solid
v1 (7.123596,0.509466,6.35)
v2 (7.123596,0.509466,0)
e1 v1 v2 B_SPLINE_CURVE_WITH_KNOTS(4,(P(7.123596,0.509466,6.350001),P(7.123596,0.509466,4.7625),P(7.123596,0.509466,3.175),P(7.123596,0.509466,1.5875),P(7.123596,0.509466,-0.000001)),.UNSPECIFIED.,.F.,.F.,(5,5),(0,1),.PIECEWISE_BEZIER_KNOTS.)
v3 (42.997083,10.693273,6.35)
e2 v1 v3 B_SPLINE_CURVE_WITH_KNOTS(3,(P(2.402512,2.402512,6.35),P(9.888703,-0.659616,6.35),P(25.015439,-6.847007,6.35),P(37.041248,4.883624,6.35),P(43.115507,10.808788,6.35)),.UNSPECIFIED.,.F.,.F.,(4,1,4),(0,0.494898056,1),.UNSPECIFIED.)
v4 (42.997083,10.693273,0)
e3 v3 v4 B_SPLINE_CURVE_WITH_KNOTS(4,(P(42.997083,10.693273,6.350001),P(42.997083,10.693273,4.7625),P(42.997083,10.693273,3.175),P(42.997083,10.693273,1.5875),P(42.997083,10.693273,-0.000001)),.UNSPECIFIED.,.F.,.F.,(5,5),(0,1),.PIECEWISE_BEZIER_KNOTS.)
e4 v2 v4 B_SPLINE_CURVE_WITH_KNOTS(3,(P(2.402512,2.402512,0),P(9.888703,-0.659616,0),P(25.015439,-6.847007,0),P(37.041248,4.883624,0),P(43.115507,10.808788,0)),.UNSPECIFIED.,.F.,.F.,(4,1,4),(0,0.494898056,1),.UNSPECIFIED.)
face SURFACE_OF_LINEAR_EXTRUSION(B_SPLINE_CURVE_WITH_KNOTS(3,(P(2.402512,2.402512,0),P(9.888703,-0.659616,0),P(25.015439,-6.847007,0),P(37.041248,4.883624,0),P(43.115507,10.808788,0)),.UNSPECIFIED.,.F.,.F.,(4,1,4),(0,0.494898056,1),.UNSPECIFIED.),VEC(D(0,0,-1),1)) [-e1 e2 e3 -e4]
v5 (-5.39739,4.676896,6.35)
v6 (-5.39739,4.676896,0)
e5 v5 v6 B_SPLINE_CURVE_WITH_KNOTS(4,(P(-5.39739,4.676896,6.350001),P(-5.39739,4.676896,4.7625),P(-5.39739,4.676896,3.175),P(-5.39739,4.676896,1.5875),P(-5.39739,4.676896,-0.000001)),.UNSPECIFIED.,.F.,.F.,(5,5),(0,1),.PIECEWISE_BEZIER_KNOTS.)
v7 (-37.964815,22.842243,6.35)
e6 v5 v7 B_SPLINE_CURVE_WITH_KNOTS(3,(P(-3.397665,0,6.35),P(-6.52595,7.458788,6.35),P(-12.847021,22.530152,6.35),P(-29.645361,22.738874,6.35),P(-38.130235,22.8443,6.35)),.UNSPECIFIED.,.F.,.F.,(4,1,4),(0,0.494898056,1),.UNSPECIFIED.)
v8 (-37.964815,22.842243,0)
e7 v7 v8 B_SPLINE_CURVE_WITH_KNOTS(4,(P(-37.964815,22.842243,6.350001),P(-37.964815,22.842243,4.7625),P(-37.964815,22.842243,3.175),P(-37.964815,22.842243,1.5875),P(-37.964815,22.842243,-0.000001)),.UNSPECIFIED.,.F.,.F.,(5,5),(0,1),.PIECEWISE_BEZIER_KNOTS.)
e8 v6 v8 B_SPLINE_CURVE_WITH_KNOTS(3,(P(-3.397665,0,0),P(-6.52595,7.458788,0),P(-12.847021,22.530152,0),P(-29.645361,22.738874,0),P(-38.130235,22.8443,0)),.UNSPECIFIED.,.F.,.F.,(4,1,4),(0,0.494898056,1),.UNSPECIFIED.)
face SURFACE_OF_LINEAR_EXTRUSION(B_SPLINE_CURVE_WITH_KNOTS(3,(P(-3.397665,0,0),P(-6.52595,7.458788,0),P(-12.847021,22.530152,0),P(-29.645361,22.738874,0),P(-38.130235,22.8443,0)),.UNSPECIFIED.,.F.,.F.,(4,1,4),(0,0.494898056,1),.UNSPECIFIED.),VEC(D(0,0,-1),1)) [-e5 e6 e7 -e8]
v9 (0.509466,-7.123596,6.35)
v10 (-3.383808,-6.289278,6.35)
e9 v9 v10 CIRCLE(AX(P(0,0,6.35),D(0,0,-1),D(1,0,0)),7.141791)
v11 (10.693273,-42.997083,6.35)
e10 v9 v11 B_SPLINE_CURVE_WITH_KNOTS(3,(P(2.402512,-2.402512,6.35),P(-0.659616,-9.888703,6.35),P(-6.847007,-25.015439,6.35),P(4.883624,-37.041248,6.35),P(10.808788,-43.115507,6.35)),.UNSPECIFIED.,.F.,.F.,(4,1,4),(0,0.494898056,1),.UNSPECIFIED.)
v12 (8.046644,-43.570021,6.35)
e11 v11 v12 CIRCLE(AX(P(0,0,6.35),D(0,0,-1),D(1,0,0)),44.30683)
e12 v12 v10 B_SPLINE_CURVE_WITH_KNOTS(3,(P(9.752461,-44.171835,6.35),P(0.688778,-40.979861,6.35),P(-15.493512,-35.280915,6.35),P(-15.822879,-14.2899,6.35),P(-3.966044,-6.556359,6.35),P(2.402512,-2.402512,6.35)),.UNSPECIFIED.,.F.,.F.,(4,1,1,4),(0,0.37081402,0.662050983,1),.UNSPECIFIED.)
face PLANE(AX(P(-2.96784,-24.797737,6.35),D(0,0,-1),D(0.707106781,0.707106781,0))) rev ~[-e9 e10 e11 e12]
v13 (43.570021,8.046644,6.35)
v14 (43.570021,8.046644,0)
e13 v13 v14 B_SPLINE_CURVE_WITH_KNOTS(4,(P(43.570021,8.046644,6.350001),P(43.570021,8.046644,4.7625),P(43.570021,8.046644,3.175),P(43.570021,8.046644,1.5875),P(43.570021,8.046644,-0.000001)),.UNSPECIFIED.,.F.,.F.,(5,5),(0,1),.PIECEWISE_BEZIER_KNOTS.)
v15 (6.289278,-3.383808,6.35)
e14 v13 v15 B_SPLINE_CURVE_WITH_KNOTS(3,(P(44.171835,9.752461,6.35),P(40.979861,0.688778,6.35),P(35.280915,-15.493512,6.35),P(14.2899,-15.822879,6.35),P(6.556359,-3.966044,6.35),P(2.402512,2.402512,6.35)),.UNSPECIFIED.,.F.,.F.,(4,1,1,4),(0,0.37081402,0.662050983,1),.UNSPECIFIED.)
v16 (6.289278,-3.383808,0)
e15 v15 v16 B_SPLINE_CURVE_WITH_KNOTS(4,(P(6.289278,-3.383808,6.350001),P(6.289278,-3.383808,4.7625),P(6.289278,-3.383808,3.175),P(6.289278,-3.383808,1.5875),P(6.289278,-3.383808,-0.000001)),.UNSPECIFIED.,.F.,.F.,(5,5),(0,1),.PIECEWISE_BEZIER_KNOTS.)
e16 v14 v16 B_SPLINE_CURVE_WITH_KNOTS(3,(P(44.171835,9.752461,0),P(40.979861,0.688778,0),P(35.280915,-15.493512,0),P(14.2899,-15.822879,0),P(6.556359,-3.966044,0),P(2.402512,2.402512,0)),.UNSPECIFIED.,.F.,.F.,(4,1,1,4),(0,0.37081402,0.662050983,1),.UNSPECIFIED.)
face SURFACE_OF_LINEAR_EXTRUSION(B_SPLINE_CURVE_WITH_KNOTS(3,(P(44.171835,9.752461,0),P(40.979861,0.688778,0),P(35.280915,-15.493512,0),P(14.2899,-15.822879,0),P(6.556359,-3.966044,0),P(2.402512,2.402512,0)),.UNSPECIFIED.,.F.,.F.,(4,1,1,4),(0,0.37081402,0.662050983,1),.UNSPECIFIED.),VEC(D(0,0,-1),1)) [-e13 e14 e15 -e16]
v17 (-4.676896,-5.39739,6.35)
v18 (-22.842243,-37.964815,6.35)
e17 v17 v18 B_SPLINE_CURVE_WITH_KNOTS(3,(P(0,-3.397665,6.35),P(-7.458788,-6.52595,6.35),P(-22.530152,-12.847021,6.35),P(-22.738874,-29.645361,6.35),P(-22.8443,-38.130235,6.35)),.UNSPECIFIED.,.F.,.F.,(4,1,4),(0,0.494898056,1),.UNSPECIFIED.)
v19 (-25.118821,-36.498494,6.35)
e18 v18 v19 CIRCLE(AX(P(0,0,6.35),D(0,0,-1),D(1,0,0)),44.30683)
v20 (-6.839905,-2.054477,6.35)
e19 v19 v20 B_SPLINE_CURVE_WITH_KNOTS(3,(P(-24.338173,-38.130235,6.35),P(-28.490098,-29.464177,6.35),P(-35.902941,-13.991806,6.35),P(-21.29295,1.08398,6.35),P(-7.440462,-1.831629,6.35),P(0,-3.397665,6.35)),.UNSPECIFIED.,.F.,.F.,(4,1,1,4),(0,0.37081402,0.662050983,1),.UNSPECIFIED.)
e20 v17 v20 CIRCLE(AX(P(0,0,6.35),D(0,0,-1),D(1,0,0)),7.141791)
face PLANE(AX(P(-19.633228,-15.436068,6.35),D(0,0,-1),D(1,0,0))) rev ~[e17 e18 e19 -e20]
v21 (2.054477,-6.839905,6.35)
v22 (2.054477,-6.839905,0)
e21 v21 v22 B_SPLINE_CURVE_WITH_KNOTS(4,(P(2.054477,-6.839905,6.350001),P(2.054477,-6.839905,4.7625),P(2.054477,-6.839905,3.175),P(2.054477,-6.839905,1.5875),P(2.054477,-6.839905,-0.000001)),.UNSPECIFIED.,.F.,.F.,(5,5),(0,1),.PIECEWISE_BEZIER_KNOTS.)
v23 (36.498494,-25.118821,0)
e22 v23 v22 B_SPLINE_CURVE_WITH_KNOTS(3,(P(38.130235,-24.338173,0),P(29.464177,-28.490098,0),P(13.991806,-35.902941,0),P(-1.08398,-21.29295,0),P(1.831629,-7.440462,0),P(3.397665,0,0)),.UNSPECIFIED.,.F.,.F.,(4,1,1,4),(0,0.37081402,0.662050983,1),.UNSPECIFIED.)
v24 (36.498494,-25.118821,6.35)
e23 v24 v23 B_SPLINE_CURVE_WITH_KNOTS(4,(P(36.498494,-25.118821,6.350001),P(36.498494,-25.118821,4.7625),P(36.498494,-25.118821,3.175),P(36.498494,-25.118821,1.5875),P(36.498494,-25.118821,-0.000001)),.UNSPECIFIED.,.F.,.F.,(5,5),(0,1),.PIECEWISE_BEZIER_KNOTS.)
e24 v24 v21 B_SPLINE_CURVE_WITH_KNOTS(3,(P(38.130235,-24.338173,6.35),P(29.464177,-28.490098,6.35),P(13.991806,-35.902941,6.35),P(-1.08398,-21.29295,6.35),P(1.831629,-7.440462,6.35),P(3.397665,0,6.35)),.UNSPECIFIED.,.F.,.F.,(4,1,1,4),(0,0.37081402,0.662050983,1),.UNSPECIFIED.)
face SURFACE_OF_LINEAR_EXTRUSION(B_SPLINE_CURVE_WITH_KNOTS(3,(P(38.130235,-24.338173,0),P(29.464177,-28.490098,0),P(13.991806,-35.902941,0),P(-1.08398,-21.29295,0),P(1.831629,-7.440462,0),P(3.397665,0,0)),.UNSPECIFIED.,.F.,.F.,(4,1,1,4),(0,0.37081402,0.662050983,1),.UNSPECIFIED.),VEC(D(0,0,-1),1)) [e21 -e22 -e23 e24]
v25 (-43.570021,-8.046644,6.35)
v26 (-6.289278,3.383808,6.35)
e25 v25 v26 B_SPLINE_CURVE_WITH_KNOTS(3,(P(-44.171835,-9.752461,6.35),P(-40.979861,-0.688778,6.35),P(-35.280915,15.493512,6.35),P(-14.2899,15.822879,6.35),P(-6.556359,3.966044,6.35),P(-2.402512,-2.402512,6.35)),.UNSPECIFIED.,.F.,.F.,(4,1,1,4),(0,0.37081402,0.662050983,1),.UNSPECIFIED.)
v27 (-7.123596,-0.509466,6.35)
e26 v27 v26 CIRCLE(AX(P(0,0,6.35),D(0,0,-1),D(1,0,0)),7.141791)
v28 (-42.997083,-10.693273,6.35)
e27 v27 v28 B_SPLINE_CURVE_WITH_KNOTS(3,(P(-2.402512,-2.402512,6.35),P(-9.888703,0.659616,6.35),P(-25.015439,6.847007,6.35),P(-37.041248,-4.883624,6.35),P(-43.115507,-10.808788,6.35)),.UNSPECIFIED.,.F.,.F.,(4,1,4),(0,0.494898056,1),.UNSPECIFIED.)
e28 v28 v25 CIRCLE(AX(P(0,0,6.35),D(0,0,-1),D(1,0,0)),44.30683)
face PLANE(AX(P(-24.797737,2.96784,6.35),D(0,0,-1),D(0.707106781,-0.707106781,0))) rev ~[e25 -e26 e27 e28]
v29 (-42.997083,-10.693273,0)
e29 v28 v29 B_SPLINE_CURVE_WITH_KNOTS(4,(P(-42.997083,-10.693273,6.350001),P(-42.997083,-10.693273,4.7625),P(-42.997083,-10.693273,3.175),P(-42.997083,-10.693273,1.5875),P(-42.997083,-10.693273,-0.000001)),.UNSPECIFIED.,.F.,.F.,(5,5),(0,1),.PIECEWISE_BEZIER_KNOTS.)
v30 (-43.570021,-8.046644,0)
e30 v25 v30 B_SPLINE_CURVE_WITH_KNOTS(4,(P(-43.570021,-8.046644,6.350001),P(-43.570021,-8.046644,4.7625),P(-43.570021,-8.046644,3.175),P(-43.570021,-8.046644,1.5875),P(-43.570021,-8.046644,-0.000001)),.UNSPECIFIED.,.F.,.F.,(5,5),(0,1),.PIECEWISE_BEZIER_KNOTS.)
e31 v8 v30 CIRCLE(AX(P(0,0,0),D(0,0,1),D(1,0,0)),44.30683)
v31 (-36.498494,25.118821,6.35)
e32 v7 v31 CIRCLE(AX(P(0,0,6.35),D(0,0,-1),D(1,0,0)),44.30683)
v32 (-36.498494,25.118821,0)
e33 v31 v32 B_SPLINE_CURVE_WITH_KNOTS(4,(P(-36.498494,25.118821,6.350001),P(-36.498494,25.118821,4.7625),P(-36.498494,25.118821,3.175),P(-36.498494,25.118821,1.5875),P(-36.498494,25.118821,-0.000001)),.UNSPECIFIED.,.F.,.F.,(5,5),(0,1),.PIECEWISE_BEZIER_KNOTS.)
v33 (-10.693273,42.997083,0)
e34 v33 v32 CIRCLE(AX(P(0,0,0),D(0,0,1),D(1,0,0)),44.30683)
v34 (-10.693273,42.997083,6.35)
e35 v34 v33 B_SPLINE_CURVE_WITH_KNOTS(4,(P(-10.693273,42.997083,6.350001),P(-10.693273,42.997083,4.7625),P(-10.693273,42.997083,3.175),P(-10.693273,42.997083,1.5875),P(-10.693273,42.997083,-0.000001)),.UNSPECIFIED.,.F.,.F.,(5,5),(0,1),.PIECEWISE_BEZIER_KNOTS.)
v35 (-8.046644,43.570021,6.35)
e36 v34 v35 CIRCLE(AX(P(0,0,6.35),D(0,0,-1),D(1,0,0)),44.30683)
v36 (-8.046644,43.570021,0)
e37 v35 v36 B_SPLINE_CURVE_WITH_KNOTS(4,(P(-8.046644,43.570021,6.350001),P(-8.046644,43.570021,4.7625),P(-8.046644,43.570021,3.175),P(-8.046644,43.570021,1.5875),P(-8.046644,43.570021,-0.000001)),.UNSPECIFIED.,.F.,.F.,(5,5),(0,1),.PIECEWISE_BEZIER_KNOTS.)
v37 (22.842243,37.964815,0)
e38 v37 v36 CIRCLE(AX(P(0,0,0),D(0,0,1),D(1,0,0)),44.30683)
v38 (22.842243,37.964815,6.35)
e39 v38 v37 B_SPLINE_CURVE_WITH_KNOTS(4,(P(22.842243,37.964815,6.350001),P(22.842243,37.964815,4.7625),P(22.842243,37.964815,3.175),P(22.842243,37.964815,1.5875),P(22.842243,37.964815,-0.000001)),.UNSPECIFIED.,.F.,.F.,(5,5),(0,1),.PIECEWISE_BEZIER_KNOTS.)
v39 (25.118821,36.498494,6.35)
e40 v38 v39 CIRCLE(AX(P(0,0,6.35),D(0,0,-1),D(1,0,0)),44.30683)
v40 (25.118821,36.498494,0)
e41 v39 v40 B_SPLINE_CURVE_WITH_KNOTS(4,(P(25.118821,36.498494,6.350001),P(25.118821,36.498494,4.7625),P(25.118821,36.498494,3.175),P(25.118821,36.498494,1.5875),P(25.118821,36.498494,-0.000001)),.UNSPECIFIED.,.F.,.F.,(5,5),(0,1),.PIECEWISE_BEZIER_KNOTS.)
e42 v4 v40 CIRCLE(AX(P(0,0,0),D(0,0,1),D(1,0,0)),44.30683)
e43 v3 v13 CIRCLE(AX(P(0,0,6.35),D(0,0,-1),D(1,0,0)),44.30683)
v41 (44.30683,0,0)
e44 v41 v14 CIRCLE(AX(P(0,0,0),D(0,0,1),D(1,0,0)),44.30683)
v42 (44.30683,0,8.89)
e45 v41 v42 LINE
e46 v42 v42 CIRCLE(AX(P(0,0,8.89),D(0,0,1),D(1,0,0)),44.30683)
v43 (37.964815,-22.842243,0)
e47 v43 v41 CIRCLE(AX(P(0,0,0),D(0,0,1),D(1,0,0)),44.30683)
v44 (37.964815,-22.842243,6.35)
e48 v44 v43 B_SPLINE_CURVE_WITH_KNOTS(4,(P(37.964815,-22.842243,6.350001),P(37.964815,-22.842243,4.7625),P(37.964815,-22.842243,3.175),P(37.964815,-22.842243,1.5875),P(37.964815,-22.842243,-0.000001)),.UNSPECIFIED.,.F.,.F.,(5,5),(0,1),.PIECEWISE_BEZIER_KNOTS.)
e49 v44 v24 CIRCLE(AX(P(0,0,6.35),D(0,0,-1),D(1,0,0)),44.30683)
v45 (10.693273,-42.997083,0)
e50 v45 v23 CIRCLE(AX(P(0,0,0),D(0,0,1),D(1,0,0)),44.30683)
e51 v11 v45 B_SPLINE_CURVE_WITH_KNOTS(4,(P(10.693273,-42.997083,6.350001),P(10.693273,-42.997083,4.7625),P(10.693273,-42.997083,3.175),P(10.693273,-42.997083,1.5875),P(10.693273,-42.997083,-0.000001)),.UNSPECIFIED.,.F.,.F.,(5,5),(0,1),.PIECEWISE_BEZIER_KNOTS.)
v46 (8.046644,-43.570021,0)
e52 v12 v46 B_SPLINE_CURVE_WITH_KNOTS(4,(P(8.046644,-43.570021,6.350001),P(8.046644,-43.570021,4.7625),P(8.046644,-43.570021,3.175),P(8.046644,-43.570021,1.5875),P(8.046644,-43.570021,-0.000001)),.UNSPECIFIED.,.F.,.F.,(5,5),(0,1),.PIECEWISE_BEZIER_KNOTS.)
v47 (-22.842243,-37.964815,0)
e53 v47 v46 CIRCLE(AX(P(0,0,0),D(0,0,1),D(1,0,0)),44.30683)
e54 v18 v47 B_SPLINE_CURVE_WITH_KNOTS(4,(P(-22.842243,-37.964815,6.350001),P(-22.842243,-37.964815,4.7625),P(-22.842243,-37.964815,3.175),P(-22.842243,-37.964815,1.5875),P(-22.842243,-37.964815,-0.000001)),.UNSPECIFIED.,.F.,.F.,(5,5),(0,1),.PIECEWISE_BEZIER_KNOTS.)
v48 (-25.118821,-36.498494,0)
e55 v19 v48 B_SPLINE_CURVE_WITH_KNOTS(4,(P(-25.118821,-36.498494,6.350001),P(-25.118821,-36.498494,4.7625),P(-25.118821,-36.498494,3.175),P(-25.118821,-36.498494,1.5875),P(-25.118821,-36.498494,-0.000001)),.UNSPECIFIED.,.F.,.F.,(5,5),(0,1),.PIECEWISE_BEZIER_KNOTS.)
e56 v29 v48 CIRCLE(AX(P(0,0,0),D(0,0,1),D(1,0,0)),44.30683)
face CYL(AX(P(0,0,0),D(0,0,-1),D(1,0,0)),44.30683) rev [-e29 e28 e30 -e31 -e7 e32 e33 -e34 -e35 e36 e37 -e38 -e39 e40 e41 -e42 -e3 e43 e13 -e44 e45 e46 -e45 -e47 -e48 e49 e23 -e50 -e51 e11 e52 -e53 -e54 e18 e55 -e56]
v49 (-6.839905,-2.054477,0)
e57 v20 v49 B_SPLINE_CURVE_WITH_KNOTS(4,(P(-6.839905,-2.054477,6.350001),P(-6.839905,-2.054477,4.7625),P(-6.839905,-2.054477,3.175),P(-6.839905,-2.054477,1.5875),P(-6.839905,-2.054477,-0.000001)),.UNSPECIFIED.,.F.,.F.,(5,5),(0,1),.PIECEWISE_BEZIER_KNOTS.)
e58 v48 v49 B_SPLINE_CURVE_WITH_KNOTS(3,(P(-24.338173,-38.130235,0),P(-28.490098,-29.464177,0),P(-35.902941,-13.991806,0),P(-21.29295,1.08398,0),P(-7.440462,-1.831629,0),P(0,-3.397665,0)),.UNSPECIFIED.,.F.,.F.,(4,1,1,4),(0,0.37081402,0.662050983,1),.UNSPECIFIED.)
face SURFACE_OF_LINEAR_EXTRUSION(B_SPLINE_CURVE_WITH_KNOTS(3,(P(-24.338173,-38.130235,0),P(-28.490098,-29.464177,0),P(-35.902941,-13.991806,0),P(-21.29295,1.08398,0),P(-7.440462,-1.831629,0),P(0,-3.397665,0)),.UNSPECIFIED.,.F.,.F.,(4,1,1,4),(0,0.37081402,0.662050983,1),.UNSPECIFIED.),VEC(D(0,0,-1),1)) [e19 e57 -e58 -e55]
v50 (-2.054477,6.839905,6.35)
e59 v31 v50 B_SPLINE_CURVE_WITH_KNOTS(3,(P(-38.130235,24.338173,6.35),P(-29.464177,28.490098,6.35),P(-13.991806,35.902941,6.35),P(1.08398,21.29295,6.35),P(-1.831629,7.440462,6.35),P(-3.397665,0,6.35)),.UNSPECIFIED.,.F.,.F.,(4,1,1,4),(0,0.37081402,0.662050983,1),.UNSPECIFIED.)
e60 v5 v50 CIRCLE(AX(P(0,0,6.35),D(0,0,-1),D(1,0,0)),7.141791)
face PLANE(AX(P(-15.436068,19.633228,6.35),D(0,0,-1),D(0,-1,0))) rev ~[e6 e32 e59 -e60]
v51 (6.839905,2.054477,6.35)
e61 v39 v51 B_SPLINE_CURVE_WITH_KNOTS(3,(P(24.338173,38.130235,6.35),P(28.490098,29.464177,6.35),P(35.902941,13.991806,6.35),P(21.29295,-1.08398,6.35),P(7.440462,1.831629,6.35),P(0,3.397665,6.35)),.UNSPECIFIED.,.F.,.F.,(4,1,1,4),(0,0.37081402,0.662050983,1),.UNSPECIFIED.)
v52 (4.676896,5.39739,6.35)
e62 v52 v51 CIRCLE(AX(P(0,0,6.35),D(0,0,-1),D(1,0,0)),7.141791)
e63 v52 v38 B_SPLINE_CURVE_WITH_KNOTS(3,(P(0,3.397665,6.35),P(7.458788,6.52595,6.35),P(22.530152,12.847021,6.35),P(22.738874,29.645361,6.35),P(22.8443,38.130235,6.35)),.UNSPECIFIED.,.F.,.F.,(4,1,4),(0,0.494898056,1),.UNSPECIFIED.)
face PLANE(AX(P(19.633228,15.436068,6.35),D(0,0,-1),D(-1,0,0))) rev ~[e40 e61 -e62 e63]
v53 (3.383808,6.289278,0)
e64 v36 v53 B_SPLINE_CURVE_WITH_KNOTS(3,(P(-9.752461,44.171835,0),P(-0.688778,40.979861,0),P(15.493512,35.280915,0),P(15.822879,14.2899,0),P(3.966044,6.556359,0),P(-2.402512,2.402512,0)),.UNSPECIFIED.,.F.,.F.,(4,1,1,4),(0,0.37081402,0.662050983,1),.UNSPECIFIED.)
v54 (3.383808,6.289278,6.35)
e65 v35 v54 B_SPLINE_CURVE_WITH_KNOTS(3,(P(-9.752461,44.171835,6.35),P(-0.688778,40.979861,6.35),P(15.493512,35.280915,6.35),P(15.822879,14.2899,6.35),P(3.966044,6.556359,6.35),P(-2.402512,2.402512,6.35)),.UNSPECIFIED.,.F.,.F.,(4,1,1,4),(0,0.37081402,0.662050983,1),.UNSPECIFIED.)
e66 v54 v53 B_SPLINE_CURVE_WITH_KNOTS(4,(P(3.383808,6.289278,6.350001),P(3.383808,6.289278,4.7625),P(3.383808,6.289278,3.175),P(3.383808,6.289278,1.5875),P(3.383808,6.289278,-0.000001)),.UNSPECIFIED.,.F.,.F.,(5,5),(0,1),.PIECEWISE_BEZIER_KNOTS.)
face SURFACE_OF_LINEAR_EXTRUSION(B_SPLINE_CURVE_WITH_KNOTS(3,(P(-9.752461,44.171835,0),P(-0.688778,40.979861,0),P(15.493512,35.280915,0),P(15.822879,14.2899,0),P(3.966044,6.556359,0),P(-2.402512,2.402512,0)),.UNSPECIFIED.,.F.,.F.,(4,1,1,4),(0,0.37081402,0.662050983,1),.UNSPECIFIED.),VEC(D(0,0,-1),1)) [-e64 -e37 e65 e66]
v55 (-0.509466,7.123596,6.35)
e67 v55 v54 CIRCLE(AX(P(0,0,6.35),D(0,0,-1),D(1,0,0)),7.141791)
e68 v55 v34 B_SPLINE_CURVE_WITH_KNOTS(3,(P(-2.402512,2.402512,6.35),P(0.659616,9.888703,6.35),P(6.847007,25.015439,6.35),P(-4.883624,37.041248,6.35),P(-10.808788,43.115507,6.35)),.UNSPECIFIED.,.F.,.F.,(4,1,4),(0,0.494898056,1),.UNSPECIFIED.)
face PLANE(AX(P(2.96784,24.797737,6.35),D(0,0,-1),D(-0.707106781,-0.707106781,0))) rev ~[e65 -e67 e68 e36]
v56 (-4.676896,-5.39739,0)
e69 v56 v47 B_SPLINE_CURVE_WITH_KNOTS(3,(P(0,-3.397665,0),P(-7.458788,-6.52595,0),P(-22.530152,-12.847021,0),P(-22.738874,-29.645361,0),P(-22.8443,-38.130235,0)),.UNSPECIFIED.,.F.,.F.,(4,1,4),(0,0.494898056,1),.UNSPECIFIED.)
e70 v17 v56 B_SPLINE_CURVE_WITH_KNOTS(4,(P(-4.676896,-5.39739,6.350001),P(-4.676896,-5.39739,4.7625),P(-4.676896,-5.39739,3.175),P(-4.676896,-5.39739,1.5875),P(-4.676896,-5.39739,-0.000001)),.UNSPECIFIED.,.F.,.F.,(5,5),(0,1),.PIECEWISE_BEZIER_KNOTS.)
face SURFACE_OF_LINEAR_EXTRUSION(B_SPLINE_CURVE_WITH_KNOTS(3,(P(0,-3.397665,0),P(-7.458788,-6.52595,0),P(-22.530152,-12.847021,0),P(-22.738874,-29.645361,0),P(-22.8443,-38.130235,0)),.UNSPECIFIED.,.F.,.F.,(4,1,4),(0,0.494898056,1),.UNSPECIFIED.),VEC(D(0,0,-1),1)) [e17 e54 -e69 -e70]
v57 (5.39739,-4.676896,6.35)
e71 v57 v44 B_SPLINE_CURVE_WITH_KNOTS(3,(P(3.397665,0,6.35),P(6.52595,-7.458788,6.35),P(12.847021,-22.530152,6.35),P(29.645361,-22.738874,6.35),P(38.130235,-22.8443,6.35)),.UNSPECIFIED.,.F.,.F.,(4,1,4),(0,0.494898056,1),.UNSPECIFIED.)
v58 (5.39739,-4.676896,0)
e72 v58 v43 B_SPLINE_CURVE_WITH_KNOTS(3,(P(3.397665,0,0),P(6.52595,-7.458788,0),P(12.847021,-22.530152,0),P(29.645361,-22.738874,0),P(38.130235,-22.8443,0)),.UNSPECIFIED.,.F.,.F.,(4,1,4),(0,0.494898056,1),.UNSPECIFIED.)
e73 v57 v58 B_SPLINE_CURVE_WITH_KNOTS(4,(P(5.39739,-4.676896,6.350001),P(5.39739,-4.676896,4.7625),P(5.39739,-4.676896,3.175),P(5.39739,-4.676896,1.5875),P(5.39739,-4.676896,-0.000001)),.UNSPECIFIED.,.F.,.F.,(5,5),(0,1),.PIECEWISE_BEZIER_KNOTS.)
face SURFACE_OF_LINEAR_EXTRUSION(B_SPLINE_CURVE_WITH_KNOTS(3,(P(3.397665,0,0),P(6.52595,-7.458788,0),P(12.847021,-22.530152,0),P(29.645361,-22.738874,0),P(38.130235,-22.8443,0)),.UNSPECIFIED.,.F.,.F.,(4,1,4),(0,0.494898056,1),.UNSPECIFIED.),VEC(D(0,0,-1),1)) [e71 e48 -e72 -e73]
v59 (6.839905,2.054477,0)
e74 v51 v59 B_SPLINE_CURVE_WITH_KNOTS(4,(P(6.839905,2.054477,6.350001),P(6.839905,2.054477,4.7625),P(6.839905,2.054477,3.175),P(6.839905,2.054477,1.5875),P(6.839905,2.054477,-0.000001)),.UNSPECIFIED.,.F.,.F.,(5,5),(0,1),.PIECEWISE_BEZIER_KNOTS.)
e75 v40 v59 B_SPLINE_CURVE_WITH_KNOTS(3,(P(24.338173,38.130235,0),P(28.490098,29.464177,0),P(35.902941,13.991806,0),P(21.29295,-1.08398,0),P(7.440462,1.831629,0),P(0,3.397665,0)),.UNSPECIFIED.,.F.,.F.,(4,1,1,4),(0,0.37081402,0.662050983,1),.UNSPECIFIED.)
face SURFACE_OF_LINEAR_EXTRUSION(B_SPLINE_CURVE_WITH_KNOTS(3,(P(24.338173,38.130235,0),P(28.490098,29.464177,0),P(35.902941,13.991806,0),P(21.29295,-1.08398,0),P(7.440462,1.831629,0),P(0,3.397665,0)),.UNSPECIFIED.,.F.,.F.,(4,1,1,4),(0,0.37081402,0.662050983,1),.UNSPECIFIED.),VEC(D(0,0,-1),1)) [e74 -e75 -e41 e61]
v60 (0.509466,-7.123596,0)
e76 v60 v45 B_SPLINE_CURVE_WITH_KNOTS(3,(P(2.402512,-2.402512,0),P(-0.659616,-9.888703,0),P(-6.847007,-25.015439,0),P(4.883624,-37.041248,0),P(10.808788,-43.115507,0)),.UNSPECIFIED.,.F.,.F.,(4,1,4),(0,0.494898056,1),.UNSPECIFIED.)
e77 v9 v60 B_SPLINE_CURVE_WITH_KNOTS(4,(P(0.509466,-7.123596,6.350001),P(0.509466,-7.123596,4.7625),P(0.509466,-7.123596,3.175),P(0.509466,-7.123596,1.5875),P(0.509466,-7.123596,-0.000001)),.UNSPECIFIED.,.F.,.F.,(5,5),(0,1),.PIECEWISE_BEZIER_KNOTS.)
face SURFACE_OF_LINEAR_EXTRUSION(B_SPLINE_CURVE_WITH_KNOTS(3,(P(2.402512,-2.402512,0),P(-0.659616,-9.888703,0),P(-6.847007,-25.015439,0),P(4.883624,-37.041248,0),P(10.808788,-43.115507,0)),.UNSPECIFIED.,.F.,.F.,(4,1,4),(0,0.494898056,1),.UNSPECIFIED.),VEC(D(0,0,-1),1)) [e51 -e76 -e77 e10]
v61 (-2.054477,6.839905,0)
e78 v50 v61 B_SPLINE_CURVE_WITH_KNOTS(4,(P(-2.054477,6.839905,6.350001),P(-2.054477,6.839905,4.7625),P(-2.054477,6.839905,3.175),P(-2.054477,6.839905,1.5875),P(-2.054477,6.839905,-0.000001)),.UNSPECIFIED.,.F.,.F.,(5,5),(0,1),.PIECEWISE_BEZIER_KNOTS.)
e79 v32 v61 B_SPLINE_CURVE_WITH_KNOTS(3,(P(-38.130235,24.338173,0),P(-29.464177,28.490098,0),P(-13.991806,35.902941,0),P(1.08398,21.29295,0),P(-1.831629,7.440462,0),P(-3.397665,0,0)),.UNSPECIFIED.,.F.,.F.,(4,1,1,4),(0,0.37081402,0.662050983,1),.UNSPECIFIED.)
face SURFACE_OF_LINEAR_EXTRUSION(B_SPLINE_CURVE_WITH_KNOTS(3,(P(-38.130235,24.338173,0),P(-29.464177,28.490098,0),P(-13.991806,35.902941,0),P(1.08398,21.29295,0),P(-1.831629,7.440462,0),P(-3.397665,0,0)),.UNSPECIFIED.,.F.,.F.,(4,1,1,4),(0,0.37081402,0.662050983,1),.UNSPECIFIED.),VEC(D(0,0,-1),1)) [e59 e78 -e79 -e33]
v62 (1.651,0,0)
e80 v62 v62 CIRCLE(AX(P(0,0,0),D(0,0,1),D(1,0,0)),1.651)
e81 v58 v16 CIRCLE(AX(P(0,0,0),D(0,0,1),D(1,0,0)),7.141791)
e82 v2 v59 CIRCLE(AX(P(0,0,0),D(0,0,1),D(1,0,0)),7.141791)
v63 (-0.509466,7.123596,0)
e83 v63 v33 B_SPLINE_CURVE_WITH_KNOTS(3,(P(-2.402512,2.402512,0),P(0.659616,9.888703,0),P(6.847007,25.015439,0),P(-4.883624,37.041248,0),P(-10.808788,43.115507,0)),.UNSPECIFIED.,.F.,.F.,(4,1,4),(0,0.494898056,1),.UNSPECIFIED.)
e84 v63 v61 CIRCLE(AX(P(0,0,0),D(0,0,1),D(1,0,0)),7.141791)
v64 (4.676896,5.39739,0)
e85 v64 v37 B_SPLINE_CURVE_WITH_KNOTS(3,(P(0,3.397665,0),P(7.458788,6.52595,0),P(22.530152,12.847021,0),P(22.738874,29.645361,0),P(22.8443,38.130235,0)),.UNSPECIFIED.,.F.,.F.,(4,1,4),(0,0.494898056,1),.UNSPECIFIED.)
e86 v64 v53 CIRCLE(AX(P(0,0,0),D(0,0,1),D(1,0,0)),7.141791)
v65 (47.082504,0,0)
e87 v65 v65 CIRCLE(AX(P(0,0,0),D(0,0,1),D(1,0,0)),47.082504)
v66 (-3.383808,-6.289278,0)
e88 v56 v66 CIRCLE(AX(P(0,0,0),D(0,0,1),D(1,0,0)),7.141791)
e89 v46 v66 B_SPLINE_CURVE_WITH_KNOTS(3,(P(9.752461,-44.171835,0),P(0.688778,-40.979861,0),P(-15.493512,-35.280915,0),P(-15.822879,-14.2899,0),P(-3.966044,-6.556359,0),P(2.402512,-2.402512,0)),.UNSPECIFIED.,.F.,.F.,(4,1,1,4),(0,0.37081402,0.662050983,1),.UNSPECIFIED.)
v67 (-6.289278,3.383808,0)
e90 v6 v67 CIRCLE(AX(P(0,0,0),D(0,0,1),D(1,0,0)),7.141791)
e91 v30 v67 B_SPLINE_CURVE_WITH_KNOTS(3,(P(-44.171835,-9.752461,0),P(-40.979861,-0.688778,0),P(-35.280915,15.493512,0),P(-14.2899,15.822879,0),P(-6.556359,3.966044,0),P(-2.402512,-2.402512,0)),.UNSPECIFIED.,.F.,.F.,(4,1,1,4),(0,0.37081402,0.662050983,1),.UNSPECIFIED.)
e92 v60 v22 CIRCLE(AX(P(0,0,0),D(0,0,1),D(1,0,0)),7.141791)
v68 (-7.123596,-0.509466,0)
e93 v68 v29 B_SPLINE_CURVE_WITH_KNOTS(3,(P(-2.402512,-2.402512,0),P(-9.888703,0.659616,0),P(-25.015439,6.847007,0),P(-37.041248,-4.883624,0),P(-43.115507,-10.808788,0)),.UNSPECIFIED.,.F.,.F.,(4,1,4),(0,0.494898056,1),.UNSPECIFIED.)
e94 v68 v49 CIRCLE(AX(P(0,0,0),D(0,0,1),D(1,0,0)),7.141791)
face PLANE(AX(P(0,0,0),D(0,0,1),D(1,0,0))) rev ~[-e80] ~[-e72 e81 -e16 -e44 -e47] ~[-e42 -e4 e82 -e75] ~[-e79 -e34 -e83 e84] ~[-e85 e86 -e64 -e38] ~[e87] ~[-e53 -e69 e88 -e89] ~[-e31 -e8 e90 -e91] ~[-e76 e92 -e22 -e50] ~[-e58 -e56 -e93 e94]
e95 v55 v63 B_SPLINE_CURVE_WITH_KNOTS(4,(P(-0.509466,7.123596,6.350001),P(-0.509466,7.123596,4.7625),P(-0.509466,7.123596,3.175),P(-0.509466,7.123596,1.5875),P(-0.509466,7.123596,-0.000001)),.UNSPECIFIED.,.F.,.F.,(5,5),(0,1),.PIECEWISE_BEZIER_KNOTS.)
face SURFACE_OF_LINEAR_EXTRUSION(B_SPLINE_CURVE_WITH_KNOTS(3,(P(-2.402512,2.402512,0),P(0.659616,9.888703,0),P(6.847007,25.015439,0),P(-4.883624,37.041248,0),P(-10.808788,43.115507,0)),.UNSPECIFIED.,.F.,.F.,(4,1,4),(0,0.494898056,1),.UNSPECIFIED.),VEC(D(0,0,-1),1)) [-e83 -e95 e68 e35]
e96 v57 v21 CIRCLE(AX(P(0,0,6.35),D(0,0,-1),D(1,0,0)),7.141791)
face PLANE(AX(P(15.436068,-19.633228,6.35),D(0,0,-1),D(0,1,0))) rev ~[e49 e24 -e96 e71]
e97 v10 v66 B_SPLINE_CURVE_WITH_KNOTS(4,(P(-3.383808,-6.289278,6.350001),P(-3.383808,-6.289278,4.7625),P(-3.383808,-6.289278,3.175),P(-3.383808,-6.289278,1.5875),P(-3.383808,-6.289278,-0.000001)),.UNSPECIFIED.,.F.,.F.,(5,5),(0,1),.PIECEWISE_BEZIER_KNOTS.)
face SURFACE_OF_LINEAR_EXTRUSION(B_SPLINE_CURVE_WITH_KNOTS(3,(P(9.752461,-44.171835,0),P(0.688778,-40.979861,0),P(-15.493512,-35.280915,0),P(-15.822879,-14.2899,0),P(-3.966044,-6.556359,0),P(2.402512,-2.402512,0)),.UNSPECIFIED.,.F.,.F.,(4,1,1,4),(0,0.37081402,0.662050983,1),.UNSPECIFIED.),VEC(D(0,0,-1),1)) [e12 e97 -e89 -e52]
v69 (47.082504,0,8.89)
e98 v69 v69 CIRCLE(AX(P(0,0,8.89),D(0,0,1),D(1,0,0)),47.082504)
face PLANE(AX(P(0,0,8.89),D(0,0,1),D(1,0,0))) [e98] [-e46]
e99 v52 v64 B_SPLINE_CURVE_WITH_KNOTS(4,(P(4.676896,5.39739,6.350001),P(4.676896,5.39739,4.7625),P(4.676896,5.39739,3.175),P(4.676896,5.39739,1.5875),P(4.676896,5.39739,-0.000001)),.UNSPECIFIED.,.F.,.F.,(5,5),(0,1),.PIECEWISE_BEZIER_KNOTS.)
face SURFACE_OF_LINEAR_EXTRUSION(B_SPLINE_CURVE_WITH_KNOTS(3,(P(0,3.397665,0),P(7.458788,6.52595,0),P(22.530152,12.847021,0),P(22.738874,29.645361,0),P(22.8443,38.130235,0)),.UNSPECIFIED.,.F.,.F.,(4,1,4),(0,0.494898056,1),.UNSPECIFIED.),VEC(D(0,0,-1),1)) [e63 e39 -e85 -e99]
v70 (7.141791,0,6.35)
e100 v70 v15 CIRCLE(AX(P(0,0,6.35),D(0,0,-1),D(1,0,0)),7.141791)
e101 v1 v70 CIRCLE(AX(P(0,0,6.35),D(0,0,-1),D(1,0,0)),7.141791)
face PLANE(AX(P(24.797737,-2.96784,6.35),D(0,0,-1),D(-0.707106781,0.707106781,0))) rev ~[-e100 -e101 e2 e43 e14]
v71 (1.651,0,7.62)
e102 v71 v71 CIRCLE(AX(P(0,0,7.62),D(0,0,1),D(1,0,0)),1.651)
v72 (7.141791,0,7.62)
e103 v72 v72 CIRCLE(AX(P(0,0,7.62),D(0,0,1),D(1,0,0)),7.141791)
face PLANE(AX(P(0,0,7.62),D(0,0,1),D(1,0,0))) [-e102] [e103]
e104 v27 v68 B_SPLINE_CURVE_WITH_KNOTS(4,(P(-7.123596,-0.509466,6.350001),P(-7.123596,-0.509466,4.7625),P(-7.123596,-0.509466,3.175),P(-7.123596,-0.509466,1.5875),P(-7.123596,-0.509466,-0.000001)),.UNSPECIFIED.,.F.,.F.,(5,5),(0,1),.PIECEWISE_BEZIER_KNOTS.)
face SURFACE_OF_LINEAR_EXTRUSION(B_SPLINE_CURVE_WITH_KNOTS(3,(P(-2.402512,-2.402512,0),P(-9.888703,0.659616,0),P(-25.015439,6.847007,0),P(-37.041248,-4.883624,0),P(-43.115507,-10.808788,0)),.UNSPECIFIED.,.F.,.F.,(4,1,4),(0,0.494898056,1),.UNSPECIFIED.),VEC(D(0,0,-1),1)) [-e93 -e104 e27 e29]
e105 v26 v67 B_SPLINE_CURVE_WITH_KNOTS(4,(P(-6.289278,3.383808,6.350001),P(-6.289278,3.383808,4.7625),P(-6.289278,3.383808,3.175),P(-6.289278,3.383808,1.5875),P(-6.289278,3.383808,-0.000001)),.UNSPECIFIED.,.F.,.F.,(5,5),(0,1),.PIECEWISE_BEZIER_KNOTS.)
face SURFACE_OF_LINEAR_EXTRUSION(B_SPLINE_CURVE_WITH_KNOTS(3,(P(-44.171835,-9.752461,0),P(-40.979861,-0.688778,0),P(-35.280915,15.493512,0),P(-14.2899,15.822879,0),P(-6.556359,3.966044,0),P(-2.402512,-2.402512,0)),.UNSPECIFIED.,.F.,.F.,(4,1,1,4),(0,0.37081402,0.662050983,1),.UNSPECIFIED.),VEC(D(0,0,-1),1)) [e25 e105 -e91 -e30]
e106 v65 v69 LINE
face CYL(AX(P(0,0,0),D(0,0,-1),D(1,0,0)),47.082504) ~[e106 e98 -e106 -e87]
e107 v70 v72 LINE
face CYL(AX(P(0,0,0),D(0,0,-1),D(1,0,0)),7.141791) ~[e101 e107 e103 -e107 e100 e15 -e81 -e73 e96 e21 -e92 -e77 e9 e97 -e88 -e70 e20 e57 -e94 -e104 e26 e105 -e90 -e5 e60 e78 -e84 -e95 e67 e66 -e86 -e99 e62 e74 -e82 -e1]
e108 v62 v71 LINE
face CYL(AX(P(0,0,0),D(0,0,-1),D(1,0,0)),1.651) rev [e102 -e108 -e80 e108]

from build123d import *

# Parameters (mm, degrees)
F1_DEPTH = 6.35
F3_COUNT = 8
F4_R     = 47.0825039729
F4_R_2   = 44.3068303906
F5_DEPTH = 8.89
F6_R     = 7.1417908763
F6_R_2   = 1.651
F7_DEPTH = 7.62


with BuildPart() as f1:
    # F0 (on Top) → F1 (new body)
    with BuildSketch(Plane.XY):
        with BuildLine():
            add(Edge.make_bspline(
                [(0, 3.3976645209), (7.4587884053, 6.5259501827), (22.5301517256, 12.8470210078), (22.7388737657, 29.6453608255), (22.844299674, 38.1302349269)],
                knots=[0, 0, 0, 0, 0.4948980558, 1, 1, 1, 1], degree=3))
            add(Edge.make_bspline(
                [(24.3381727487, 38.1302349269), (28.4900980885, 29.4641772404), (35.902941466, 13.991806455), (21.2929500045, -1.0839801467), (7.440462338, 1.8316293611), (0, 3.3976645209)],
                knots=[0, 0, 0, 0, 0.3708140201, 0.6620509832, 1, 1, 1, 1], degree=3))
            Line((24.3381727487, 38.1302349269), (22.844299674, 38.1302349269))
        make_face()
    extrude(amount=F1_DEPTH)


with BuildPart() as f3_1:
    # F3: instance of F1
    add(f1.part.rotate(Axis((0, 0, 23.2516843826), (0, 0, 1)), 1 * 360 / F3_COUNT))


with BuildPart() as f3_2:
    # F3: instance of F1
    add(f1.part.rotate(Axis((0, 0, 23.2516843826), (0, 0, 1)), 2 * 360 / F3_COUNT))


with BuildPart() as f3_3:
    # F3: instance of F1
    add(f1.part.rotate(Axis((0, 0, 23.2516843826), (0, 0, 1)), 3 * 360 / F3_COUNT))


with BuildPart() as f3_4:
    # F3: instance of F1
    add(f1.part.rotate(Axis((0, 0, 23.2516843826), (0, 0, 1)), 4 * 360 / F3_COUNT))


with BuildPart() as f3_5:
    # F3: instance of F1
    add(f1.part.rotate(Axis((0, 0, 23.2516843826), (0, 0, 1)), 5 * 360 / F3_COUNT))


with BuildPart() as f3_6:
    # F3: instance of F1
    add(f1.part.rotate(Axis((0, 0, 23.2516843826), (0, 0, 1)), 6 * 360 / F3_COUNT))


with BuildPart() as f3_7:
    # F3: instance of F1
    add(f1.part.rotate(Axis((0, 0, 23.2516843826), (0, 0, 1)), 7 * 360 / F3_COUNT))


with BuildPart() as f1_1:
    add(f1.part)

    add(f3_1.part)  # F5 merges F3_1

    add(f3_2.part)  # F5 merges F3_2

    add(f3_3.part)  # F5 merges F3_3

    add(f3_4.part)  # F5 merges F3_4

    add(f3_5.part)  # F5 merges F3_5

    add(f3_6.part)  # F5 merges F3_6

    add(f3_7.part)  # F5 merges F3_7
    # F4 (on Top) → F5 (join)
    with BuildSketch(Plane.XY):
        Circle(F4_R)
        Circle(F4_R_2, mode=Mode.SUBTRACT)
    extrude(amount=F5_DEPTH)

    # F6 (on Top) → F7 (join)
    with BuildSketch(Plane.XY):
        Circle(F6_R)
        Circle(F6_R_2, mode=Mode.SUBTRACT)
    extrude(amount=F7_DEPTH)


solid = f1_1.part
